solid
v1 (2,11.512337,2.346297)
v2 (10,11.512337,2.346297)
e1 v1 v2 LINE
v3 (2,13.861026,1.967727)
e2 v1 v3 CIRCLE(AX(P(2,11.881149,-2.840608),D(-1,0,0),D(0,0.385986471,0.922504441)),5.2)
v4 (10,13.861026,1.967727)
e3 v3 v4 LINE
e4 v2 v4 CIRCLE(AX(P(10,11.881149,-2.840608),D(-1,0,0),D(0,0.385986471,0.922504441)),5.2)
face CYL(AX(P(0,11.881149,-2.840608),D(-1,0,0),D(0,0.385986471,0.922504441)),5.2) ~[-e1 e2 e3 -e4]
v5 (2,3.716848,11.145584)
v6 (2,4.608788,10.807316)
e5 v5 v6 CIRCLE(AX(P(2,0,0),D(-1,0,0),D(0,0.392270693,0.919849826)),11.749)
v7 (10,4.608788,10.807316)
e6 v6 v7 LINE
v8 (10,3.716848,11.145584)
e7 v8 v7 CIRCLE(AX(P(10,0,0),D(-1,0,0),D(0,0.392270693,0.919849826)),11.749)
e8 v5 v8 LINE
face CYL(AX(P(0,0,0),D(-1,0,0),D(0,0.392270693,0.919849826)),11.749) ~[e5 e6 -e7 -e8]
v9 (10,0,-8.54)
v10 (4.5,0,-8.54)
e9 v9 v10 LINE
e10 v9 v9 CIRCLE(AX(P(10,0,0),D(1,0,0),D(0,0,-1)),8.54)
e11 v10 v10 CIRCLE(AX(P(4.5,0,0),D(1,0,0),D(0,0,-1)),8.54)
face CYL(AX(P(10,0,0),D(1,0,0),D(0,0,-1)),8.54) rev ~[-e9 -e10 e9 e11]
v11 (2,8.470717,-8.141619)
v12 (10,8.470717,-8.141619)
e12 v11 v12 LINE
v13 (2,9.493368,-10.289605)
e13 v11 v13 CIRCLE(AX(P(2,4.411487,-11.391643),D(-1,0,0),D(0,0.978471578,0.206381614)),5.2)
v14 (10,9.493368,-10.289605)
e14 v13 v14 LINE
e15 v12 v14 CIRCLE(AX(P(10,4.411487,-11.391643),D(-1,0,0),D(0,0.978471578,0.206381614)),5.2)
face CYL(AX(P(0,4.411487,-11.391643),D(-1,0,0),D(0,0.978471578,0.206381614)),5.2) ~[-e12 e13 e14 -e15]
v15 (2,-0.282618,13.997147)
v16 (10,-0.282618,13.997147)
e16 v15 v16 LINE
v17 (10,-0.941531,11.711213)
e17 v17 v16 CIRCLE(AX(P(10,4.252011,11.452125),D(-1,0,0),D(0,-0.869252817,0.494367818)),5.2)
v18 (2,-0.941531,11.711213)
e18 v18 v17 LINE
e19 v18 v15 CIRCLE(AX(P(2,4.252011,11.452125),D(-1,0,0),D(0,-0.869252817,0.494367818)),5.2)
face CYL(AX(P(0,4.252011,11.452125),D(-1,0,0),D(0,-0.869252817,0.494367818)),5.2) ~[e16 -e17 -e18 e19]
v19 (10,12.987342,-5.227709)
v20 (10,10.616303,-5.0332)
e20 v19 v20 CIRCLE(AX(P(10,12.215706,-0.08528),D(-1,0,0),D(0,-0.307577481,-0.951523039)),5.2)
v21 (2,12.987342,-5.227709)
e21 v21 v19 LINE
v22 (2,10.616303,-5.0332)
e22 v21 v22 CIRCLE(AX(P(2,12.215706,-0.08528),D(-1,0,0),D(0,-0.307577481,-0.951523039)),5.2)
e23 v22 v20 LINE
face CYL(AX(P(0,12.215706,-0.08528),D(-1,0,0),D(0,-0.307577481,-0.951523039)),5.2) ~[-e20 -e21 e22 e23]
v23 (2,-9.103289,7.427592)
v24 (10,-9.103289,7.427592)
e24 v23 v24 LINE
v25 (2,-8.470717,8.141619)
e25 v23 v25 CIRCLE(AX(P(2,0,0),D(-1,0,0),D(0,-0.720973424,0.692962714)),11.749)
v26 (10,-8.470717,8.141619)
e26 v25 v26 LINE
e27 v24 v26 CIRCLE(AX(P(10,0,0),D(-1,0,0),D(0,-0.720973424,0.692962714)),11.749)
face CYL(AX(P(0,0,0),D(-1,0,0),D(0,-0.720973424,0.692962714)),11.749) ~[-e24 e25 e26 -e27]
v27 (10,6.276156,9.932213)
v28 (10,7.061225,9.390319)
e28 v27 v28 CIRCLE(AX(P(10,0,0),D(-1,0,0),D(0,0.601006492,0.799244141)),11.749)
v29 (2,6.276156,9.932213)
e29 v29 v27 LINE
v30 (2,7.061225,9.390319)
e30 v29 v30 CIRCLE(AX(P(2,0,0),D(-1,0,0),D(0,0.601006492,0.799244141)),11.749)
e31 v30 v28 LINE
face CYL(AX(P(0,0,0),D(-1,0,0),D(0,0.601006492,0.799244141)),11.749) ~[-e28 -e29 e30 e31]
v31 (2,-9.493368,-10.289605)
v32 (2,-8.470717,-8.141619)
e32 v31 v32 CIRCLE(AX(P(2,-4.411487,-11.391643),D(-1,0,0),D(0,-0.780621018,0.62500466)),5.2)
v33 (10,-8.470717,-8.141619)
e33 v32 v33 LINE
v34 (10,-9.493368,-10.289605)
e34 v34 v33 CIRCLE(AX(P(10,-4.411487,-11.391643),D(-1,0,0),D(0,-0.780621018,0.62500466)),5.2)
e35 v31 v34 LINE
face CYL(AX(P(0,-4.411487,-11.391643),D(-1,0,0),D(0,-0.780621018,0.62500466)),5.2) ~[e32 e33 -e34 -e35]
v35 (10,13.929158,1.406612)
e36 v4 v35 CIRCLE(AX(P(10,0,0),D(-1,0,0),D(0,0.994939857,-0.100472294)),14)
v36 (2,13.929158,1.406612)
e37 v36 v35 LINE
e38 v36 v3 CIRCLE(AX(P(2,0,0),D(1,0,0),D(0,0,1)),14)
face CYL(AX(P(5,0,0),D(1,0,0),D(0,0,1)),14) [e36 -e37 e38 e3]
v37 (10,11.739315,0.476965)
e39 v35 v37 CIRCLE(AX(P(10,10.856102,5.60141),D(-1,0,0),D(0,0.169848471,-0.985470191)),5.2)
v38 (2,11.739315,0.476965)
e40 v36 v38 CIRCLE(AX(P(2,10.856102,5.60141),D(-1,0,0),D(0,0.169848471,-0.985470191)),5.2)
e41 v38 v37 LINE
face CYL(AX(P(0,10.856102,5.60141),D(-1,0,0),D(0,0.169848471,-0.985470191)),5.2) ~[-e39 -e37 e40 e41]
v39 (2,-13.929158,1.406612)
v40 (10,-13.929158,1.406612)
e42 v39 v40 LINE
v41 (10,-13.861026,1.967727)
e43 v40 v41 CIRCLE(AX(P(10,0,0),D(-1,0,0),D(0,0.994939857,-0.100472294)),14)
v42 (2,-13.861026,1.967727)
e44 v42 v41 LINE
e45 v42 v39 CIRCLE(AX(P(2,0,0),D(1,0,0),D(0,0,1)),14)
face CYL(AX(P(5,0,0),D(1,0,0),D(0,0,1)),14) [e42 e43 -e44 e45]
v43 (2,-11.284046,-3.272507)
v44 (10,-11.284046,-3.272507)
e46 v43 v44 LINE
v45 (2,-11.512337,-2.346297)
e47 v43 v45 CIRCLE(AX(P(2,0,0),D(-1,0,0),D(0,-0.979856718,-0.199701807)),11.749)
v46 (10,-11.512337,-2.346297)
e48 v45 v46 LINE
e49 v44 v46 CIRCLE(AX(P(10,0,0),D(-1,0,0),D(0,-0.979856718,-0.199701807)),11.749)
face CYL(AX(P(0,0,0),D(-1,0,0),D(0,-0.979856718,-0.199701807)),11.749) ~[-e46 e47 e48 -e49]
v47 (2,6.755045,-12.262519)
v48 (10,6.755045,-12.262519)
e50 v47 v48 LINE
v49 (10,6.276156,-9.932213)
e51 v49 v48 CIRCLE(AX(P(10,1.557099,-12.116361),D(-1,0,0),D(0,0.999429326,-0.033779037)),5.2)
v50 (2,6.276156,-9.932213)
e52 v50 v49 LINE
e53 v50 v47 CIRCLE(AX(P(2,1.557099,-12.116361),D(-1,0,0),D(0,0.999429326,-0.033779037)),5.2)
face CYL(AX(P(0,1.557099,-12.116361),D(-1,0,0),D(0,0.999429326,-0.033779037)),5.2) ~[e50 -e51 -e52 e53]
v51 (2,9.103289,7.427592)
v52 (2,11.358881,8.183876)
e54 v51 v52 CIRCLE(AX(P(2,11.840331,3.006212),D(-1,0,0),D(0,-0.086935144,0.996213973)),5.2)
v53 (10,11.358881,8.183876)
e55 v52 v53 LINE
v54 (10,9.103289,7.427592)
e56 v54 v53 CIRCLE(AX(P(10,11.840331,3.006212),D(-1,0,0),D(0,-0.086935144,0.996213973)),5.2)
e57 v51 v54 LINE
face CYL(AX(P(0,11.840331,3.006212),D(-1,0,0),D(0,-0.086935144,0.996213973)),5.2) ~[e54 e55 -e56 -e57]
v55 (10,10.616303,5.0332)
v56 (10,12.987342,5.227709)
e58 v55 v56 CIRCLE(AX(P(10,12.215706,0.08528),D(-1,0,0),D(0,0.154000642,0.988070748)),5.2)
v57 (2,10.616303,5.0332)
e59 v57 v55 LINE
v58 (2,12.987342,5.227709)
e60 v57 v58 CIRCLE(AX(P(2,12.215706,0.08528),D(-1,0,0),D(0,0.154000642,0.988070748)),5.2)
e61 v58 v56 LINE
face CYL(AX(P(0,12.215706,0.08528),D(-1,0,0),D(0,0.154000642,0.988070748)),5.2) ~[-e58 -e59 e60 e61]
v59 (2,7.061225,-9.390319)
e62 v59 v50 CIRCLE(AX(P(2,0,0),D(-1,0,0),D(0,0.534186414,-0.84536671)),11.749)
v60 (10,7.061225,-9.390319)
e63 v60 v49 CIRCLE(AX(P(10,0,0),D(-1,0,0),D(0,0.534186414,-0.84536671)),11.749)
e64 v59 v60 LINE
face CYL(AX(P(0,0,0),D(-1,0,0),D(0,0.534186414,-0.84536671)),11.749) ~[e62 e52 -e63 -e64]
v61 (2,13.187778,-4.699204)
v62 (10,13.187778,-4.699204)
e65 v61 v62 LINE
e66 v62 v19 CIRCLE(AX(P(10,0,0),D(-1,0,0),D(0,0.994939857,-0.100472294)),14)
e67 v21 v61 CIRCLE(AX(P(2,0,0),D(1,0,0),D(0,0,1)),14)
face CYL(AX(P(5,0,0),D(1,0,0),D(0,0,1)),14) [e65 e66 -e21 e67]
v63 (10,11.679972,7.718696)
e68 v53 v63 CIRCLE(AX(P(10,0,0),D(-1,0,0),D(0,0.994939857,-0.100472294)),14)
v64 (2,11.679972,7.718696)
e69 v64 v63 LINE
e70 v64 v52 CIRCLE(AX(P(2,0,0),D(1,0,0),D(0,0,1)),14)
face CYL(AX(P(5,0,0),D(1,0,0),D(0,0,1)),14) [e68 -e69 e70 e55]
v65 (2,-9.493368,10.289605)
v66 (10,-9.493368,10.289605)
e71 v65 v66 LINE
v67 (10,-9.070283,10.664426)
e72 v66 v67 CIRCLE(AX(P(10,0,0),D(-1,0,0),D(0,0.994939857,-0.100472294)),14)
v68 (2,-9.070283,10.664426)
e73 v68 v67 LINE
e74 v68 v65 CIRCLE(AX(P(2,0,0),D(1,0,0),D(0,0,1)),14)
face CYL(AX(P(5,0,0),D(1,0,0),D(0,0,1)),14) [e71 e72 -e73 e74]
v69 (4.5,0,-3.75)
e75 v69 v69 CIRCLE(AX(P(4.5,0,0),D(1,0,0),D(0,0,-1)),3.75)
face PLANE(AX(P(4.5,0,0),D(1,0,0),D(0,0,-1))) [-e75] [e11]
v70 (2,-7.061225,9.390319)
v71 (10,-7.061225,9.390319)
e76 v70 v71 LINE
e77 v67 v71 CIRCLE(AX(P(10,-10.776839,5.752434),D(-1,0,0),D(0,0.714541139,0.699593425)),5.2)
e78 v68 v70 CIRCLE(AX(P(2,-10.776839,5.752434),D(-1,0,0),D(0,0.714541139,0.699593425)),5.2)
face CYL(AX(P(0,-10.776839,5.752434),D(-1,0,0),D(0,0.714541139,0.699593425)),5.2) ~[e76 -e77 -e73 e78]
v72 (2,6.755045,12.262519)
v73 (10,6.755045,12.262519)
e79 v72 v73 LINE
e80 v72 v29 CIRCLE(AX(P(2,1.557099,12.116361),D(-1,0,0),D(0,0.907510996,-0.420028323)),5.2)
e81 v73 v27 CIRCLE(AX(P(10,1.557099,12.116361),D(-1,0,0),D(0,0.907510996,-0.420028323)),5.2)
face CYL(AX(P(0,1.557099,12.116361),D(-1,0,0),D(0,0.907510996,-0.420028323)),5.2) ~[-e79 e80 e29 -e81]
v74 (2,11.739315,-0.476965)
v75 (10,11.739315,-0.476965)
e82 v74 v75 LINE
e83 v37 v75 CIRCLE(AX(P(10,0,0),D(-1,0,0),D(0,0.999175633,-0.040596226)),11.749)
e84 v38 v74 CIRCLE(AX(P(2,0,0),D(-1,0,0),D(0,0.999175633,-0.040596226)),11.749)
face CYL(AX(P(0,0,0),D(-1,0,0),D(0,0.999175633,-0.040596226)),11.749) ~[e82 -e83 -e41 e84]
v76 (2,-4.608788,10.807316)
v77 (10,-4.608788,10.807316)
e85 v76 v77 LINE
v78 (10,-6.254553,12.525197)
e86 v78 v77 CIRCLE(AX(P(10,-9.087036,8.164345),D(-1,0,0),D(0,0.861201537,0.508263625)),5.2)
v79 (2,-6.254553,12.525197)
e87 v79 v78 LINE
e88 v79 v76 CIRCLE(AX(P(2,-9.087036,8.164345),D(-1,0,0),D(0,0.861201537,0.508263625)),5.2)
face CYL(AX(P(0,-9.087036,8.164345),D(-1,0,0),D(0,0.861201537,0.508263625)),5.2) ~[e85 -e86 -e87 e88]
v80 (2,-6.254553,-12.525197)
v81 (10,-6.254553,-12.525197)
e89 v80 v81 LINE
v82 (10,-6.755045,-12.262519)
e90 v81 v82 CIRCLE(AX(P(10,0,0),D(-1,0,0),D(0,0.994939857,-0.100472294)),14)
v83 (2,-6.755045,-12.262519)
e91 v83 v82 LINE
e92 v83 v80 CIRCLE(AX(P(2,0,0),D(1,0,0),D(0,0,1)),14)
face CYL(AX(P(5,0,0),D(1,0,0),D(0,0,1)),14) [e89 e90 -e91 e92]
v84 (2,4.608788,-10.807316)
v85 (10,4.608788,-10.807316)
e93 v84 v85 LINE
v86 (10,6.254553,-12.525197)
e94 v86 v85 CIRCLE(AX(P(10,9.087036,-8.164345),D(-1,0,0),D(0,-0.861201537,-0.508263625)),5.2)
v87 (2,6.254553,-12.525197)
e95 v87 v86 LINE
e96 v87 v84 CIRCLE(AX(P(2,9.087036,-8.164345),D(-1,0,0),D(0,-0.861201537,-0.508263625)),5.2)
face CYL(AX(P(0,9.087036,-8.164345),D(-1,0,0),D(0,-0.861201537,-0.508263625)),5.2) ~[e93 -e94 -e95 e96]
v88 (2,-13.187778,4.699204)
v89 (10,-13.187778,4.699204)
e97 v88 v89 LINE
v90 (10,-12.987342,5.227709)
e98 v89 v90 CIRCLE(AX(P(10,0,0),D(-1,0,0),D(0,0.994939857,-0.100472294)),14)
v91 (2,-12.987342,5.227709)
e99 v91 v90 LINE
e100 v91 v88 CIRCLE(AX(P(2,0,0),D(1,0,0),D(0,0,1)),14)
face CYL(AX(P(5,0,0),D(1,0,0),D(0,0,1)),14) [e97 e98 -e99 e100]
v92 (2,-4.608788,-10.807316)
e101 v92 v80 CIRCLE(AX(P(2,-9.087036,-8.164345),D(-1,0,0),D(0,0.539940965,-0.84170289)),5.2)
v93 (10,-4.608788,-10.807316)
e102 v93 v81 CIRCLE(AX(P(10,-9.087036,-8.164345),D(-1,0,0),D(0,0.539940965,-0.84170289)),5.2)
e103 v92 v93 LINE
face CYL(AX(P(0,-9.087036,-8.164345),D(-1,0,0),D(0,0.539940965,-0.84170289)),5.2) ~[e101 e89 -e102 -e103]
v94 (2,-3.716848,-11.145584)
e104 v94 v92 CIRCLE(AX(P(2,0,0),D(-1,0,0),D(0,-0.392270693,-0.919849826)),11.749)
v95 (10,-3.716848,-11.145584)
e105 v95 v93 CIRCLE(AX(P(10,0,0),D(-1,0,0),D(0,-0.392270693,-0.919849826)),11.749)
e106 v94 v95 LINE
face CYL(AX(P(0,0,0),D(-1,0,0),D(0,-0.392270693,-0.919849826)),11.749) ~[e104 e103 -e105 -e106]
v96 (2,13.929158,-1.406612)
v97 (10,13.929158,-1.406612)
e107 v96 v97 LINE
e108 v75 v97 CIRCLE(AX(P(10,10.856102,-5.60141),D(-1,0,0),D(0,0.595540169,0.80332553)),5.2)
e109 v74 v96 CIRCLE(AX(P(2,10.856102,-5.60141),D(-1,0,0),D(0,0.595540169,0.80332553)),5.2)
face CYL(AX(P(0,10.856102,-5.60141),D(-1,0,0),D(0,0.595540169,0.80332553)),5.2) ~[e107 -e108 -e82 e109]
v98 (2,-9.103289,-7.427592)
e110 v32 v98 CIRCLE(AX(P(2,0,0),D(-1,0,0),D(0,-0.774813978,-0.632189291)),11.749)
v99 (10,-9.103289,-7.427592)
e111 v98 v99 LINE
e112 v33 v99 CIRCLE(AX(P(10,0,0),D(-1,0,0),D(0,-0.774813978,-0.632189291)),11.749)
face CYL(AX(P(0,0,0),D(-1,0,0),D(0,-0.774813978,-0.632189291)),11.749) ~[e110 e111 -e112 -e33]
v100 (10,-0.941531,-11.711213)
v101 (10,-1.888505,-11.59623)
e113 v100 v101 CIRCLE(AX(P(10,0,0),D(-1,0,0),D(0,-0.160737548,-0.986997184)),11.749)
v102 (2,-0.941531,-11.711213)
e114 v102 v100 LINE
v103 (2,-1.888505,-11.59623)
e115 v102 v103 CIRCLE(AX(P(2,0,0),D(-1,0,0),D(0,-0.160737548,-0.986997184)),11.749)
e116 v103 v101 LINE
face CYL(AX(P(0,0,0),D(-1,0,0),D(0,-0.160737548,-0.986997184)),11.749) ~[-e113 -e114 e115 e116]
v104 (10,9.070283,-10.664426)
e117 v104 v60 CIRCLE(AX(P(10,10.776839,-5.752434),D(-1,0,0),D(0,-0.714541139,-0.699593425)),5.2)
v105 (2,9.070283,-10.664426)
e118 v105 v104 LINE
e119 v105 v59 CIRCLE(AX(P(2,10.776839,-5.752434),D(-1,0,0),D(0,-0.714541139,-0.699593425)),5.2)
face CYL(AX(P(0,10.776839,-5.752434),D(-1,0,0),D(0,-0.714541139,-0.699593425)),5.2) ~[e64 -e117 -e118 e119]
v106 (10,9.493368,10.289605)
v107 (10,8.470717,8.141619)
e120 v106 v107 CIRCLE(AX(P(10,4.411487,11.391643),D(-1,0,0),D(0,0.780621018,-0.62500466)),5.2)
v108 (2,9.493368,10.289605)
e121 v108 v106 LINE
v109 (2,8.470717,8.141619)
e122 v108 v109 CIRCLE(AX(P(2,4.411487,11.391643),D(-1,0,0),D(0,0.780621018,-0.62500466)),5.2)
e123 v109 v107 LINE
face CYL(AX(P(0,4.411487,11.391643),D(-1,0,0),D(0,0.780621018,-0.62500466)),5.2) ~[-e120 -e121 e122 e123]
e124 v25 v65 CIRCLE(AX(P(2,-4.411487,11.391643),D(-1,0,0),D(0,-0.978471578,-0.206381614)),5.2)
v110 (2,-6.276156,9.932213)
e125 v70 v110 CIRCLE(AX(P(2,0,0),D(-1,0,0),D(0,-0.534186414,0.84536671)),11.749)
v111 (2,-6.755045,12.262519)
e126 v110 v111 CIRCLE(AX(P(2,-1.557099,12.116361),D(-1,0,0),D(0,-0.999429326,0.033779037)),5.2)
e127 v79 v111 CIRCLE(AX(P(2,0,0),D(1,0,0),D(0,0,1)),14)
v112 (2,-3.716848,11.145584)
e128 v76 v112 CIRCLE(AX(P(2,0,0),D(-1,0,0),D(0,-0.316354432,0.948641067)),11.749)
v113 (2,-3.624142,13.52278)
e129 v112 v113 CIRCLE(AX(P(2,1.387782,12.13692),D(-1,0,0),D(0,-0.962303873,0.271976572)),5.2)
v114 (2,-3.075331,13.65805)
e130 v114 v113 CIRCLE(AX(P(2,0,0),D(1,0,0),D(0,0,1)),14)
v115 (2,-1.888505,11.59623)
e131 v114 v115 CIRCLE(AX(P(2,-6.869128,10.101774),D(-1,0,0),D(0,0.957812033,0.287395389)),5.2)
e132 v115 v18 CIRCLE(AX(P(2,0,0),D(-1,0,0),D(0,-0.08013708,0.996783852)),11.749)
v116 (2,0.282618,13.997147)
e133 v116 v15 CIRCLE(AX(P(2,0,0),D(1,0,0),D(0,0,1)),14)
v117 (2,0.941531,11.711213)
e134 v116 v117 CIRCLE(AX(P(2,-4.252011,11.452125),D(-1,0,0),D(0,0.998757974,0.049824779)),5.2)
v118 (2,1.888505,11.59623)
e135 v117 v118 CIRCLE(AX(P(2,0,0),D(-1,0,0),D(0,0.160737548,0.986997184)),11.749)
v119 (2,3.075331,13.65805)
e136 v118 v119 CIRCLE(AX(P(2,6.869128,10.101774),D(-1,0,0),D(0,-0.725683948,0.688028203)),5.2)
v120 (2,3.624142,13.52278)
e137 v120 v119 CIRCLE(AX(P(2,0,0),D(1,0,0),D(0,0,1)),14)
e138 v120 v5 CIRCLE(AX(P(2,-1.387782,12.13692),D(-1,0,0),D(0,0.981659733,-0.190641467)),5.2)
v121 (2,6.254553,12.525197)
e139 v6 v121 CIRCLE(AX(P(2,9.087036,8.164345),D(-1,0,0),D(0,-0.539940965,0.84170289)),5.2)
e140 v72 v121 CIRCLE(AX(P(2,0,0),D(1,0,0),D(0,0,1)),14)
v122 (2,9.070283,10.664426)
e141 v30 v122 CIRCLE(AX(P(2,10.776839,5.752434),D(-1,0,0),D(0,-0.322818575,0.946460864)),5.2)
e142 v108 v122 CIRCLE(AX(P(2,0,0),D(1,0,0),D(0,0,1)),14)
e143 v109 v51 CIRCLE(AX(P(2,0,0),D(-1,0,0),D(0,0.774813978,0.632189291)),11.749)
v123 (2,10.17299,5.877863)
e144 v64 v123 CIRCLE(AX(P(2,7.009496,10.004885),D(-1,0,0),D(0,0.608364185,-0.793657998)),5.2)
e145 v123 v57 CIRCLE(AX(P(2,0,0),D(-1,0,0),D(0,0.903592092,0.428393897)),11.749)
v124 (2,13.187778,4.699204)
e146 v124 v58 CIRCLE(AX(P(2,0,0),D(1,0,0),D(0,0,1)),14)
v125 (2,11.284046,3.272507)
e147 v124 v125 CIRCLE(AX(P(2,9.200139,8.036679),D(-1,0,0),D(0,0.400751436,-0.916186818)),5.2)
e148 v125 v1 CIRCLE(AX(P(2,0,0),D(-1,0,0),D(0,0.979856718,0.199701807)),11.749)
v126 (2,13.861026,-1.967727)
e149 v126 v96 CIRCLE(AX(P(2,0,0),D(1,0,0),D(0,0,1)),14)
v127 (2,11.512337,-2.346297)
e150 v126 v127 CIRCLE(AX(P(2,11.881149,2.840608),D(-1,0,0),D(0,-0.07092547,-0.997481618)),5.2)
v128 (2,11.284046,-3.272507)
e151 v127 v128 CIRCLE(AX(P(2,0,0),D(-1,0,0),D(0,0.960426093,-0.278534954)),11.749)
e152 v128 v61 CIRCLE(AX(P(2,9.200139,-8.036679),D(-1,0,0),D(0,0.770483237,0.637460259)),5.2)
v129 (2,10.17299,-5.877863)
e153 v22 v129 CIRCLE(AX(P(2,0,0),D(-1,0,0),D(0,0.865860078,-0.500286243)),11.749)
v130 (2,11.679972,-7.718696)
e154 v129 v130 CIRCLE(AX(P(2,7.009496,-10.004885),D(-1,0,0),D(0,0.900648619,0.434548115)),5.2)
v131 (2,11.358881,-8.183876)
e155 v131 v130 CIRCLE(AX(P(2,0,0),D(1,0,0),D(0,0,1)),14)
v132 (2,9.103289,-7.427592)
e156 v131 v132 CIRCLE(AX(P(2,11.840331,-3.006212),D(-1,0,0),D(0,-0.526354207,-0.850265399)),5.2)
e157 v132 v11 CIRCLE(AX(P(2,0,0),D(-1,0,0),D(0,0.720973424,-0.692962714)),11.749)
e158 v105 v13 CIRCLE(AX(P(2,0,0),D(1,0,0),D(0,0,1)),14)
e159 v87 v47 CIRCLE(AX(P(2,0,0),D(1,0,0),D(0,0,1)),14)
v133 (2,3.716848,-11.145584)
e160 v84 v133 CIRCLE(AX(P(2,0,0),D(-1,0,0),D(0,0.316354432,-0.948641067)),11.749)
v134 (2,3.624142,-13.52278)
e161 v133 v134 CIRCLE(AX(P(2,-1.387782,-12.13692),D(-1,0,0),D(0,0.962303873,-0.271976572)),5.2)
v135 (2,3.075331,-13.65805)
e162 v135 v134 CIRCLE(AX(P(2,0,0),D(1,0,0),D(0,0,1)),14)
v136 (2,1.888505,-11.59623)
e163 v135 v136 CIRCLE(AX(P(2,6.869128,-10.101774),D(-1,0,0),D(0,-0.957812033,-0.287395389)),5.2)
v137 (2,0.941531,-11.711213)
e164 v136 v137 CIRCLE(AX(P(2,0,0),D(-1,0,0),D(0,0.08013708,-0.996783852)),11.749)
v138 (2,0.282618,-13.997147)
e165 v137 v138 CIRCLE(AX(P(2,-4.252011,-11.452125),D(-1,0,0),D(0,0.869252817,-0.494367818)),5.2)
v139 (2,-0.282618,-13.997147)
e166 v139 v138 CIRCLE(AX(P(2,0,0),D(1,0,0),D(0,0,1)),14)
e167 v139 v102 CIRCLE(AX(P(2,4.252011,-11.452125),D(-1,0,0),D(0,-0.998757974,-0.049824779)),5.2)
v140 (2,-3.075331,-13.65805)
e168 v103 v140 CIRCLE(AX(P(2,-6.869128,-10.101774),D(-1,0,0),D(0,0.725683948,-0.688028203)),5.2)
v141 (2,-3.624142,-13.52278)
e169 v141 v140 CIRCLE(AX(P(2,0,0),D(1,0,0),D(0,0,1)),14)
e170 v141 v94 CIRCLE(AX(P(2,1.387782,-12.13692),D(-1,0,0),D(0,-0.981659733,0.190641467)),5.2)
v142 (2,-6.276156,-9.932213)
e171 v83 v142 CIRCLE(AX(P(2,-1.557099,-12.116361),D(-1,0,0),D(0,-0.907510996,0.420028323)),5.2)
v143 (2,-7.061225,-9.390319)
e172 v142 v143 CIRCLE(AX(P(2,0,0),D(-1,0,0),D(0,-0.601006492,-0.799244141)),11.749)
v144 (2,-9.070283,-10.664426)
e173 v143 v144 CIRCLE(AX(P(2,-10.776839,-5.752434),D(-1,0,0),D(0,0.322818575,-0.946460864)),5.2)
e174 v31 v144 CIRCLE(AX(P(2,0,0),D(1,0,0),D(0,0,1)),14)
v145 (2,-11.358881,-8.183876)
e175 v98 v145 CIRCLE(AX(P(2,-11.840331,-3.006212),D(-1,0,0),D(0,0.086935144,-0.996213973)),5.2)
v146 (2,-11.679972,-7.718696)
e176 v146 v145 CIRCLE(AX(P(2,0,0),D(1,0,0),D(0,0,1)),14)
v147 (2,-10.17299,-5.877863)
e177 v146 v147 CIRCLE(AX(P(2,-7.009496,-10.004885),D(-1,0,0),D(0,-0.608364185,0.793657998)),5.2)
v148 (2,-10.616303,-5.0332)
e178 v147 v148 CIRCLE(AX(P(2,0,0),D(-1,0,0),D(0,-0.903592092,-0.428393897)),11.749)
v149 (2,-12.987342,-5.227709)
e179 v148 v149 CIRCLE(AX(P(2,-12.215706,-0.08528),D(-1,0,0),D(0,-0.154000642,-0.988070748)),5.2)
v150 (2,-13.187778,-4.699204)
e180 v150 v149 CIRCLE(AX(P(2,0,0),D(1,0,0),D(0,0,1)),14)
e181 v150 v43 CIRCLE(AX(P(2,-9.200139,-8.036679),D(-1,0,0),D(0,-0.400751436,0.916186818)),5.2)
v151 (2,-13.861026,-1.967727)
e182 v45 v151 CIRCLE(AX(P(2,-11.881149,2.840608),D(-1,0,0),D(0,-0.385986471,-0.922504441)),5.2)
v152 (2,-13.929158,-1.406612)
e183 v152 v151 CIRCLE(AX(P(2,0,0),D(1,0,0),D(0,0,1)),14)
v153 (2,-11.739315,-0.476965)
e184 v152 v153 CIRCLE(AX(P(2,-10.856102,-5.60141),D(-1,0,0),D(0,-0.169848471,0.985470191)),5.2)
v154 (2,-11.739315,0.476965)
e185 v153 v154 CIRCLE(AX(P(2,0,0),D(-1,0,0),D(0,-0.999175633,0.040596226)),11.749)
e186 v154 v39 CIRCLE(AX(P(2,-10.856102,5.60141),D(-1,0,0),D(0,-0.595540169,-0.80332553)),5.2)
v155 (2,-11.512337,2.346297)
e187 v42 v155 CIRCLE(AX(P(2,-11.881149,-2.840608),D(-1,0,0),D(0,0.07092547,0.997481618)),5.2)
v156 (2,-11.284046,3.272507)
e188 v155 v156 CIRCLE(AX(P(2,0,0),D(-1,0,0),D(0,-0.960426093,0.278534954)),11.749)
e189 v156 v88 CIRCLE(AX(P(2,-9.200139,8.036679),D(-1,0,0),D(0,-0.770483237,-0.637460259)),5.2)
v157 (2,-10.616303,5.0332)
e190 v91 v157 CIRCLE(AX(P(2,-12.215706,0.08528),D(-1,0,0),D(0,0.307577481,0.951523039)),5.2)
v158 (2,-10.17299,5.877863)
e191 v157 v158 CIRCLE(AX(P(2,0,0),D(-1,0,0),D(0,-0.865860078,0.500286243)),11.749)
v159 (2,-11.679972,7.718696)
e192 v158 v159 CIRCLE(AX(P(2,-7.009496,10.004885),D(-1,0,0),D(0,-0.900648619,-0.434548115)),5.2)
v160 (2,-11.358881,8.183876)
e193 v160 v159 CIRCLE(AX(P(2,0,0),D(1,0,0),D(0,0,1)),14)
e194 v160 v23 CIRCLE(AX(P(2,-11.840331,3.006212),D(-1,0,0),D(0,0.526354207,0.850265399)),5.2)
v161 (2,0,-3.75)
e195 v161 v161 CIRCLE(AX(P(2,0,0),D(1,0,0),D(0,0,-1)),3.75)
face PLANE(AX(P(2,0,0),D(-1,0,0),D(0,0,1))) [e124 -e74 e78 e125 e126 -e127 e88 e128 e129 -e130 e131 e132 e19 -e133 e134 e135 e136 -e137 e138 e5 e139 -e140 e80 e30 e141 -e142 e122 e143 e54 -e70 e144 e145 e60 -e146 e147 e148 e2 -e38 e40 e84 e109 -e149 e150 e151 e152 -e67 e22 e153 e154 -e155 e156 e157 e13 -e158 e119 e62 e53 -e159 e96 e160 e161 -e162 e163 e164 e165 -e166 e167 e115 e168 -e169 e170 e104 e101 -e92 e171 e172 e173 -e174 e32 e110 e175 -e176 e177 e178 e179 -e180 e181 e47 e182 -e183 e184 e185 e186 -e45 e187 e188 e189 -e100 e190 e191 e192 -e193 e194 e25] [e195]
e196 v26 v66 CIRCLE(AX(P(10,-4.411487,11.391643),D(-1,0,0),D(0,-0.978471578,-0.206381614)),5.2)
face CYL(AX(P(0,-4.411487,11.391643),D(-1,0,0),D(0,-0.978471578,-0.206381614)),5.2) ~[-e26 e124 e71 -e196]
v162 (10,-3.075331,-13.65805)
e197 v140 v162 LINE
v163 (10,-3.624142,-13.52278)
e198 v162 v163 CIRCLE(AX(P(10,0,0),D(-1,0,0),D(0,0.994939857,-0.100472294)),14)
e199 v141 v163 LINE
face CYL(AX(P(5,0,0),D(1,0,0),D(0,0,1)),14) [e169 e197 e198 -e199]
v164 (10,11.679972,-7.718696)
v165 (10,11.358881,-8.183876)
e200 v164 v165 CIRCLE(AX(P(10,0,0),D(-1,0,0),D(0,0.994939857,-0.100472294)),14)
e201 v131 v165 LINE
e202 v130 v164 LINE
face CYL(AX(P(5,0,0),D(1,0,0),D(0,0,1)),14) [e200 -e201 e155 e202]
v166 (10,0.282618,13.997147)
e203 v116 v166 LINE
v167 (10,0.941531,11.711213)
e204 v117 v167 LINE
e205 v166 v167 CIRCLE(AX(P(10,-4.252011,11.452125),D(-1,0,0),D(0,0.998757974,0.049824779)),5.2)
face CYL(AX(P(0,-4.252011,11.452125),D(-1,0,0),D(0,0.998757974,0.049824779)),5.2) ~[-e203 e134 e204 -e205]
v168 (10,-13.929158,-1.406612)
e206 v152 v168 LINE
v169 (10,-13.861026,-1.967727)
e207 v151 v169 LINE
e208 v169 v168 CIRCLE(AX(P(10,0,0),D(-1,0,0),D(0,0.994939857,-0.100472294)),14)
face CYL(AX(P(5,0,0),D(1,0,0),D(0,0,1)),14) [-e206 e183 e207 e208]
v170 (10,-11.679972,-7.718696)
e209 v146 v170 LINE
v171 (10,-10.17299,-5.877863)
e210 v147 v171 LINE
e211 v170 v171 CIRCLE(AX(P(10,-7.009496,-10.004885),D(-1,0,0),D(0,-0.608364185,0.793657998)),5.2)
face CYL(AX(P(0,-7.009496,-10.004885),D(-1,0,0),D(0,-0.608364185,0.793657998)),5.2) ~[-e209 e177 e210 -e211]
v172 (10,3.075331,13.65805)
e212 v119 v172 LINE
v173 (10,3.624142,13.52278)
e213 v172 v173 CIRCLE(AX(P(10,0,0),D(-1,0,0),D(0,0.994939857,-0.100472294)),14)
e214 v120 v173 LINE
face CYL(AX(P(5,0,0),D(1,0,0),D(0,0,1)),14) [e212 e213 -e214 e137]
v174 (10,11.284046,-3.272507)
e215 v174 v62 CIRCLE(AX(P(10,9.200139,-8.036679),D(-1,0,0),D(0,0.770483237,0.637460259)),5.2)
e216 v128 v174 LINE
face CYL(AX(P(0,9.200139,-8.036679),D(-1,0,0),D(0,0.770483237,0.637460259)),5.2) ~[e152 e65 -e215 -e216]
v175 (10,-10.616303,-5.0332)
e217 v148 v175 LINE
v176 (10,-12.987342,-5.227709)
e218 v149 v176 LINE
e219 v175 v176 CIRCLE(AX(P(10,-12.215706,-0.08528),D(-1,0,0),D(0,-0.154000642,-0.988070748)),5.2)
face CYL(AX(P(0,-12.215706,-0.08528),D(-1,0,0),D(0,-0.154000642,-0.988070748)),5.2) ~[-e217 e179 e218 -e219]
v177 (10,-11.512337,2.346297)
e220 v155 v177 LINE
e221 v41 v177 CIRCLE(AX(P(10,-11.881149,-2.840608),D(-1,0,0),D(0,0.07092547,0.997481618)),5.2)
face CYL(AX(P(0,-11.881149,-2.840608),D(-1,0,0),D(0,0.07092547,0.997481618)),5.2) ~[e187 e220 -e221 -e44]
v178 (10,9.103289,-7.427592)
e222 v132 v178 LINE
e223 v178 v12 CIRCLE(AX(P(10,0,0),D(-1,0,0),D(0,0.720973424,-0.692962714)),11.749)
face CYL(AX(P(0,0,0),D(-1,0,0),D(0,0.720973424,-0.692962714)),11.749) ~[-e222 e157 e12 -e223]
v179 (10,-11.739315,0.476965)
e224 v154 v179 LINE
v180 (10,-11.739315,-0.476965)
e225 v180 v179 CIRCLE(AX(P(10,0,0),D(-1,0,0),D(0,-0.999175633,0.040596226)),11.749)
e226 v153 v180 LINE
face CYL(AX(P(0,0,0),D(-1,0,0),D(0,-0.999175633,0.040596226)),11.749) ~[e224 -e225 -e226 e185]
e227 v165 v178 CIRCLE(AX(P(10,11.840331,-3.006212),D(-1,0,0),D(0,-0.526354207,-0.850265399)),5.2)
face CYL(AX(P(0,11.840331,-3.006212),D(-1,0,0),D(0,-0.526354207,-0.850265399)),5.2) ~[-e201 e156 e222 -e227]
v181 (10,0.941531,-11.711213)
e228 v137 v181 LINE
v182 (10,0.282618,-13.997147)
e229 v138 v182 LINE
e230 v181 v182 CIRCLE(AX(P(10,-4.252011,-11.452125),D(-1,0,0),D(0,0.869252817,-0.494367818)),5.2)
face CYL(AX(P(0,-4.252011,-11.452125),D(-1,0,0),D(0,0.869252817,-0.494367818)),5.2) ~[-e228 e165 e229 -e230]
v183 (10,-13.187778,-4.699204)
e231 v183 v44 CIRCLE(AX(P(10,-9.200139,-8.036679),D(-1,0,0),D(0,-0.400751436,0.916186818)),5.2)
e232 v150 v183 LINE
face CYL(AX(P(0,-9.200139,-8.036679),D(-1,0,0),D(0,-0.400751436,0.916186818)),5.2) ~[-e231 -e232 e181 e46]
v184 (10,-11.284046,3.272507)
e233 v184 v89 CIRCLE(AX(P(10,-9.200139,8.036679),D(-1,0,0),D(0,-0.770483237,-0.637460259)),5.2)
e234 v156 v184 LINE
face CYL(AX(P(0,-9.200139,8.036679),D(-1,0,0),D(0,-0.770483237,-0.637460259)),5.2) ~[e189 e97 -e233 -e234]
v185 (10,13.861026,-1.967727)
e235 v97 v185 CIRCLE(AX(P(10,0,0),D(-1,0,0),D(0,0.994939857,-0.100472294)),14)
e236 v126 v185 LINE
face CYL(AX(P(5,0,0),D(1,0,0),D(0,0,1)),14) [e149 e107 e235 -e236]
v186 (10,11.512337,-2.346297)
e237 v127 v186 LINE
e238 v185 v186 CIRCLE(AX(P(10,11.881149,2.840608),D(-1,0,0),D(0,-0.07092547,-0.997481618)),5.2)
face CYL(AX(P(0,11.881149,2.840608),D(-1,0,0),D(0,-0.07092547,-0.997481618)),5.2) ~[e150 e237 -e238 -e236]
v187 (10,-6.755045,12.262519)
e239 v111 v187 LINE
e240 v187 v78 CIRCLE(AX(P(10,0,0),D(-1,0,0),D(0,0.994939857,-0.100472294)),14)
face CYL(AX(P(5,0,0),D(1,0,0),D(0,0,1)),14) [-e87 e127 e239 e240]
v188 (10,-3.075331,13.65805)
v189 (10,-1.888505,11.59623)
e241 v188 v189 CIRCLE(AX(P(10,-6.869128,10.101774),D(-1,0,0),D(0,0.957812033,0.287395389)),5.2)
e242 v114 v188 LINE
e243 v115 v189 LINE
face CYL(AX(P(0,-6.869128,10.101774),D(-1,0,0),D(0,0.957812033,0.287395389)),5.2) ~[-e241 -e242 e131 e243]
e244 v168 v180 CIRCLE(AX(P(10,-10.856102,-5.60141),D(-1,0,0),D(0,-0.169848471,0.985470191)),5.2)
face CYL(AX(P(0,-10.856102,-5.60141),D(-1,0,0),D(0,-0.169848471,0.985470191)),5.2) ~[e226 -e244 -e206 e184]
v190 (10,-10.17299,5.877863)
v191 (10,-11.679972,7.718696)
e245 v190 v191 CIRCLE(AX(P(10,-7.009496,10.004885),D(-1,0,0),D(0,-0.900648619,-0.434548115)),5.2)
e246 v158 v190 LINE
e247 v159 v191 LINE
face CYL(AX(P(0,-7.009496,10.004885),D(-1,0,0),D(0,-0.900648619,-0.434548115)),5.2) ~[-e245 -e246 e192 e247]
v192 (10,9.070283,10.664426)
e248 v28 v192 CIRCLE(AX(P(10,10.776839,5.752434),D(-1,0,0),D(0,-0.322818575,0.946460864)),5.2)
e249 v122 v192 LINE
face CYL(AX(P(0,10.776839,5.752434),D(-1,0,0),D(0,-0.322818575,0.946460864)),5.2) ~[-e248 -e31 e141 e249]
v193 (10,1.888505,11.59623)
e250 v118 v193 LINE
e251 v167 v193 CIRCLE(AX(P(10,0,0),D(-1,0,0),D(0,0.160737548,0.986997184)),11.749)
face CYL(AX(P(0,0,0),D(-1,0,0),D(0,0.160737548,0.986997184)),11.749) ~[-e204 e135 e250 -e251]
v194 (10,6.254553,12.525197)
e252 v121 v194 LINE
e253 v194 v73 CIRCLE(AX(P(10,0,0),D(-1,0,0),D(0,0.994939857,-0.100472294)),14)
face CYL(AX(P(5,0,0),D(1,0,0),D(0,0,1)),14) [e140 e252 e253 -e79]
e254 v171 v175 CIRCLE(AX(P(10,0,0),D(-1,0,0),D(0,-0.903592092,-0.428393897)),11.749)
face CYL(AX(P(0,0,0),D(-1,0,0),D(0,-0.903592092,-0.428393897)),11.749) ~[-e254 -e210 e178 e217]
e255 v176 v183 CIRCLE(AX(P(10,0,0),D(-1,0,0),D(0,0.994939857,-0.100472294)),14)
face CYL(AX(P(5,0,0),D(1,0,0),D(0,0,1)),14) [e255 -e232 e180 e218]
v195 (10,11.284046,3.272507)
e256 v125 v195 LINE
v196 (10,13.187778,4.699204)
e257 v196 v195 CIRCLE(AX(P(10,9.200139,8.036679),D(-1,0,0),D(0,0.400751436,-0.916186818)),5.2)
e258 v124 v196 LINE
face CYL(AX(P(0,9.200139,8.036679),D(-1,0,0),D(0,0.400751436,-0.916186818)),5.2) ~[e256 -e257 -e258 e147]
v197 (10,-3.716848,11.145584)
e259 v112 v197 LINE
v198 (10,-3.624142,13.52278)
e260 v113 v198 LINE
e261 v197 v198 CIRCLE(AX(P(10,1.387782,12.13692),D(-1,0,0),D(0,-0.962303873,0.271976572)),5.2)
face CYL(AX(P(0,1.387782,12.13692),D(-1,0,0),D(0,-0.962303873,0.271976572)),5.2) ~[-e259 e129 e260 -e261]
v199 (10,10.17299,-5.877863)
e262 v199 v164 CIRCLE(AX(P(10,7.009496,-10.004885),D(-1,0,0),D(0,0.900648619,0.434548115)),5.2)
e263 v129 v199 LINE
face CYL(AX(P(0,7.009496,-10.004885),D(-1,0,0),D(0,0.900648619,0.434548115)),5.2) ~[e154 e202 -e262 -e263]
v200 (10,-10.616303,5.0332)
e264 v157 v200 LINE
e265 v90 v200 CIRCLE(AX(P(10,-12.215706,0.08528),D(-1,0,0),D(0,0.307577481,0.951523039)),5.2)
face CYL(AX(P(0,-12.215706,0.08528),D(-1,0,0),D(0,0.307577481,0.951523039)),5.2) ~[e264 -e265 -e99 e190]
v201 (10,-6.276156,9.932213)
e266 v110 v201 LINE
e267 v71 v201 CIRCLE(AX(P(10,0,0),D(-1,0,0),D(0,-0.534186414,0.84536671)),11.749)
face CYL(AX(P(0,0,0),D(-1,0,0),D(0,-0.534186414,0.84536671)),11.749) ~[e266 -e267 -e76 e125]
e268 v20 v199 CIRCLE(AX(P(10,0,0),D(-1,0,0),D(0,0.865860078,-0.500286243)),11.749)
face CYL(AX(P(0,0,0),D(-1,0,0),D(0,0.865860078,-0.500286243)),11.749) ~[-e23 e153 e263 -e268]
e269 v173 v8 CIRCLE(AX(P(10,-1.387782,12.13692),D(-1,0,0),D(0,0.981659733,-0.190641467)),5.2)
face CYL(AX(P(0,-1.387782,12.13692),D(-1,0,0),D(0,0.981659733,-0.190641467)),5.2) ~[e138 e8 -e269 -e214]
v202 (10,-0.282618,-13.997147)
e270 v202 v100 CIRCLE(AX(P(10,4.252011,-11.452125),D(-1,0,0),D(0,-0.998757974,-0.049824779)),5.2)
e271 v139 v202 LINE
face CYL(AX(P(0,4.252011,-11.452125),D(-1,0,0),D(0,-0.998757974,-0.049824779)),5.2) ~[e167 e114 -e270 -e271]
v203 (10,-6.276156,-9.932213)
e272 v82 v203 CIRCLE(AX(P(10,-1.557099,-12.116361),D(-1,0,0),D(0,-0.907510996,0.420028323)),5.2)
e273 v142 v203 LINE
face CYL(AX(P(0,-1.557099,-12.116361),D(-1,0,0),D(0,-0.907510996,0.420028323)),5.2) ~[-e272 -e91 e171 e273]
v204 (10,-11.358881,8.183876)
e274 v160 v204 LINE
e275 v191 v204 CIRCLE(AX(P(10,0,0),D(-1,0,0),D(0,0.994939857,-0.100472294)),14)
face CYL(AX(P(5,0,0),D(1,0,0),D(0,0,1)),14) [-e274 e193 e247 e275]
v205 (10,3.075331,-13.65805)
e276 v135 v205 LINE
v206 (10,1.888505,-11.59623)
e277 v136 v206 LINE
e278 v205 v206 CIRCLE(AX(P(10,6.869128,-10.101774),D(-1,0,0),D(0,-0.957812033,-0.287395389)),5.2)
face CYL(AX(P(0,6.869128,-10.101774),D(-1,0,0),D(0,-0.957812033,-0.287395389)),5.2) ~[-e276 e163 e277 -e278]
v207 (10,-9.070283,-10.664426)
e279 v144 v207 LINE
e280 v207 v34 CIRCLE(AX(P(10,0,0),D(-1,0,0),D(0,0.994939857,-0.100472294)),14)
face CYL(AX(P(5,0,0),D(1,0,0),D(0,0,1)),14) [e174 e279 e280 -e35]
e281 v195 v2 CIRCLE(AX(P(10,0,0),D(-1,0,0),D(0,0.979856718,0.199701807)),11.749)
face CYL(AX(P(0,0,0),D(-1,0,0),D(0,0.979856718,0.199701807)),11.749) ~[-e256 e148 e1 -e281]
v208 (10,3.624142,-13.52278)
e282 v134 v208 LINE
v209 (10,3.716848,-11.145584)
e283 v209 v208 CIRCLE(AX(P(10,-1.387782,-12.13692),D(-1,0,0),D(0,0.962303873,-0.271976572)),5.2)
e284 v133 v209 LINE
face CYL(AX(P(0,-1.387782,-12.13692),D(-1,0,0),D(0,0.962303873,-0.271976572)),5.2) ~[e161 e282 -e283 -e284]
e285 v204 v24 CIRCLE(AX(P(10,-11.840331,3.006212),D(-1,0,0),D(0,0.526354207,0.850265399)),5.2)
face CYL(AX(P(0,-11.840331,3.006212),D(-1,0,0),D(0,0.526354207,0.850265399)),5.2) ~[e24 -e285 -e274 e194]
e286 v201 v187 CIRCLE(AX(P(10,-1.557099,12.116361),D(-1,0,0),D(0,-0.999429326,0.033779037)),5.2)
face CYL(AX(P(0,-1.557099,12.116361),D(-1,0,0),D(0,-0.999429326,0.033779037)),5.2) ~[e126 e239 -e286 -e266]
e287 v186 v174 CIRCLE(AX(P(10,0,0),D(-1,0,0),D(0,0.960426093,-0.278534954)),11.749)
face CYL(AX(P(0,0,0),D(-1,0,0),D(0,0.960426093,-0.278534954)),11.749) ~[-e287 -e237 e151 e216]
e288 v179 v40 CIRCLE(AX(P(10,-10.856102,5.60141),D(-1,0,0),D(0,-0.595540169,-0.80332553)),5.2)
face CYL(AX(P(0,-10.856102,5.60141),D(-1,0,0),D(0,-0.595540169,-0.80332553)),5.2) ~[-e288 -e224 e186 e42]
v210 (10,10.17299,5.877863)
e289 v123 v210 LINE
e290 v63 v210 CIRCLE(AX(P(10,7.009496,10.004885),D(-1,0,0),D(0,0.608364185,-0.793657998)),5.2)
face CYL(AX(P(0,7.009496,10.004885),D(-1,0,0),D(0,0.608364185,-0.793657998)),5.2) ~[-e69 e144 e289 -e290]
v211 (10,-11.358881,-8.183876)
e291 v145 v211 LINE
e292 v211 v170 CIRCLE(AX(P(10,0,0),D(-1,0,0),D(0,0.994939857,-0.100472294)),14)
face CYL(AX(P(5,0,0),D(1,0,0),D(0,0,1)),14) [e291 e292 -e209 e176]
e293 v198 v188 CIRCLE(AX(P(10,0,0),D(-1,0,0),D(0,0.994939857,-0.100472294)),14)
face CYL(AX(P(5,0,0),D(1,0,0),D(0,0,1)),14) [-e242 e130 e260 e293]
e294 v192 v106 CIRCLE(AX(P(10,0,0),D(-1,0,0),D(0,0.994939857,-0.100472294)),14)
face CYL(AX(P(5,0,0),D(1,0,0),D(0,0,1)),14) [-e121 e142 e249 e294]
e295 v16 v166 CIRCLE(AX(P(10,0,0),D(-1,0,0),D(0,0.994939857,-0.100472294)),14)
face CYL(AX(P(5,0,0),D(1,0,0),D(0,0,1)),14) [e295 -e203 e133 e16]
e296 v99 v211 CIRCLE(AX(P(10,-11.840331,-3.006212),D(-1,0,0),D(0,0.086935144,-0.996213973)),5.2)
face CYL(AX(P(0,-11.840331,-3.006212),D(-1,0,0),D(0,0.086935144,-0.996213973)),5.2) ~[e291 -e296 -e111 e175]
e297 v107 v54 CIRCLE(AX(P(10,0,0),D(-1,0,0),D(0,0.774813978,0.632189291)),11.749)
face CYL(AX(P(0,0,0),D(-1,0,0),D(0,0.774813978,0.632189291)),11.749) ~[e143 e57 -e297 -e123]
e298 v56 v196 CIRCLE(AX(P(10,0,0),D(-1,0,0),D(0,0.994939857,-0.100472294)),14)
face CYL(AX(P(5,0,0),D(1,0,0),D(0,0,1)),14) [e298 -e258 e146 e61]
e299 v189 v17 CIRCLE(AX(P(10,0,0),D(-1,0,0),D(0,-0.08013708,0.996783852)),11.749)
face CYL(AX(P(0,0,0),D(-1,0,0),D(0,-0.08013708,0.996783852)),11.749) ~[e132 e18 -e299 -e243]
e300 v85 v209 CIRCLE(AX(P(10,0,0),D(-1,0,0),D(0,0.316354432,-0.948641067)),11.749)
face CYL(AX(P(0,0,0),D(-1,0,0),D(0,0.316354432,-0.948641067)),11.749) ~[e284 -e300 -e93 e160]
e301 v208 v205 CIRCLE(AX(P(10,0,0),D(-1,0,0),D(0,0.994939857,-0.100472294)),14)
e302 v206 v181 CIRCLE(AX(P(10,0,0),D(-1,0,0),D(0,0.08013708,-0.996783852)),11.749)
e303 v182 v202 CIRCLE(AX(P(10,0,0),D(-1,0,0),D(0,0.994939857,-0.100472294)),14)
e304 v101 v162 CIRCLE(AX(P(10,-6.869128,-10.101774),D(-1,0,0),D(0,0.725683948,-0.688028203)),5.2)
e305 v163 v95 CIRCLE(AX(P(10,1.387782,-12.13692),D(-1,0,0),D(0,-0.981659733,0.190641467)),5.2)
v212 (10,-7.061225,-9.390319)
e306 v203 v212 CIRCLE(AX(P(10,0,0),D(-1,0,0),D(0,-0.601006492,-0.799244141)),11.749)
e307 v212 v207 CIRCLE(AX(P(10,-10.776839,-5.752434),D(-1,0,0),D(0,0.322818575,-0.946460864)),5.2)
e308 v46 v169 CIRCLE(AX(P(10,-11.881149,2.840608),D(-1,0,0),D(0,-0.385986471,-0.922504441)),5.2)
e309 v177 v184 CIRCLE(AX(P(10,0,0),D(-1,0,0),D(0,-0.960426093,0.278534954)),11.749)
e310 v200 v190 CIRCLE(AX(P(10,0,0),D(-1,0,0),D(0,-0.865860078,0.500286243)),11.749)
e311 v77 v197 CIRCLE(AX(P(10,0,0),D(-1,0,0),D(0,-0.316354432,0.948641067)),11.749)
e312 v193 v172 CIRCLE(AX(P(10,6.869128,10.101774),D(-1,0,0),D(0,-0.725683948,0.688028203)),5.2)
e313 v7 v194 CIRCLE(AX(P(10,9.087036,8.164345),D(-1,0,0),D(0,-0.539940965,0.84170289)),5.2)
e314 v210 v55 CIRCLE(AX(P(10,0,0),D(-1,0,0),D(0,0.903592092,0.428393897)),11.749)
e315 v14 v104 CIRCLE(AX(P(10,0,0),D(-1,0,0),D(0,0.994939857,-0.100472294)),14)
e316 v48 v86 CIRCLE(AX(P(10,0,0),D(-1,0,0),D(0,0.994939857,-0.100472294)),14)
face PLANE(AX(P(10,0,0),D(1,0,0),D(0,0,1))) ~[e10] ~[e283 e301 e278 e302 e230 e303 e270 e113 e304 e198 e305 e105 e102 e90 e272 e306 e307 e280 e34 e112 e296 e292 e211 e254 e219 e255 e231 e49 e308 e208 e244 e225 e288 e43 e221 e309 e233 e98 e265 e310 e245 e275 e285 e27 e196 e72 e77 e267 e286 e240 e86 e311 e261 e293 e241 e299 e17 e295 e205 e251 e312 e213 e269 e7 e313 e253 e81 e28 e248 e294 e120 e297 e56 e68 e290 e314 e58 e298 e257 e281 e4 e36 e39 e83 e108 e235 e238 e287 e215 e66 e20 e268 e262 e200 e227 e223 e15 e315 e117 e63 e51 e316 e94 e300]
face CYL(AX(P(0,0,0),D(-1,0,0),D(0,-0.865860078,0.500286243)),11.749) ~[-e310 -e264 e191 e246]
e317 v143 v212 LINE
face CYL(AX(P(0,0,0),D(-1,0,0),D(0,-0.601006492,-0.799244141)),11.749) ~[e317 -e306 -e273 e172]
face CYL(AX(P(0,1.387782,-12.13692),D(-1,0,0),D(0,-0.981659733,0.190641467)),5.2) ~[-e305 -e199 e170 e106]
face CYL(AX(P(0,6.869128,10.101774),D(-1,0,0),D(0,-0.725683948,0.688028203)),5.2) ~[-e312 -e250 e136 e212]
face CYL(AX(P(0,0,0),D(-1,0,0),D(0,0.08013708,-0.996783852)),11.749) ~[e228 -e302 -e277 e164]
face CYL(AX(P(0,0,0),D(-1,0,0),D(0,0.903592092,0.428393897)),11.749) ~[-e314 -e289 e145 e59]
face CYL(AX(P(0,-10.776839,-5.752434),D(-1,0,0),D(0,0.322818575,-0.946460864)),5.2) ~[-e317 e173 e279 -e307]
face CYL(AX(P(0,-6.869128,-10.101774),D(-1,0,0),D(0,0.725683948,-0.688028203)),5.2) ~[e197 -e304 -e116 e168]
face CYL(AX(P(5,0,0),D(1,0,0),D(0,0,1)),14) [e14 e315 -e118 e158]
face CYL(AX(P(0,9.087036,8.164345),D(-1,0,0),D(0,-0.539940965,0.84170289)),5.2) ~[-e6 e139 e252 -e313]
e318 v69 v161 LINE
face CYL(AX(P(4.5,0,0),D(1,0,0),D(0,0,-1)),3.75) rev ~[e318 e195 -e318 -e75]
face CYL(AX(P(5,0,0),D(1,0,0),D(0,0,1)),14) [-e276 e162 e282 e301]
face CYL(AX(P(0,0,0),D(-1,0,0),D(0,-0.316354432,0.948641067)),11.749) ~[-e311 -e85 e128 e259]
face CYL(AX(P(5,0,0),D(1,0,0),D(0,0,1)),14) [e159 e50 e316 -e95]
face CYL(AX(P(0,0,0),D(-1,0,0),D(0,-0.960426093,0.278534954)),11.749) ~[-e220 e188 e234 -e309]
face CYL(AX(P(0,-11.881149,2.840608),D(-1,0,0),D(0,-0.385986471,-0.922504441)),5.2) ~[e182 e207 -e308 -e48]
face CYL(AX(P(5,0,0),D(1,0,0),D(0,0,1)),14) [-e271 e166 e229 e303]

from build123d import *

# Parameters (mm, degrees)
BASPROSKE_W        = 10
BASPROSKE_H        = 14
TOOTHCUT_DEPTH     = 23.181073013
TEETHCUTS_COUNT    = 26
TEETHCUTS_ANGLE    = 346.153846154
BORSKE_R           = 0.4
BORE_DEPTH         = 50.0000508
SKETCH1_R          = 8.54
CUT_EXTRUDE1_DEPTH = 5.5
SKETCH2_R          = 3.75
CUT_EXTRUDE2_DEPTH = 21.500522978
SKETCH3_R          = 15.294835459
CUT_EXTRUDE3_DEPTH = 2


with BuildPart() as part:
    # BasProSke → Base-Revolve (revolve)
    with BuildSketch(Plane(origin=(0, 0, 0), x_dir=(1, 0, 0), z_dir=(0, 1, 0)), mode=Mode.PRIVATE) as base_revolve_sk:
        with Locations((5, 7)):
            Rectangle(BASPROSKE_W, BASPROSKE_H)
    revolve(base_revolve_sk.sketch.rotate(Axis((-10, 0, 0), (1, 0, 0)), 180), axis=Axis((-10, 0, 0), (1, 0, 0)))

    # TooCutSke → ToothCut (cut, through all)
    with BuildSketch(Plane(origin=(0, 0, 0), x_dir=(0, 0, -1), z_dir=(1, 0, 0))):
        with BuildLine():
            ThreePointArc((0.476965065, 11.739314517), (0, 11.749), (-0.476965065, 11.739314517))
            ThreePointArc((-0.476965065, 11.739314517), (-0.82065865, 12.901686978), (-1.424117301, 13.952911348))
            ThreePointArc((-1.424117301, 13.952911348), (0, 14.0254), (1.424117301, 13.952911348))
            ThreePointArc((1.424117301, 13.952911348), (0.82065865, 12.901686978), (0.476965065, 11.739314517))
        make_face()
    toothcut = extrude(amount=TOOTHCUT_DEPTH, mode=Mode.SUBTRACT)

    # TeethCuts: ToothCut ×26 about axis
    teethcuts_axis = Axis((-10, 0, 0), (1, 0, 0))
    for i in range(1, TEETHCUTS_COUNT):
        add(toothcut.rotate(teethcuts_axis, i * TEETHCUTS_ANGLE / (TEETHCUTS_COUNT - 1)), mode=Mode.SUBTRACT)

    # BorSke → Bore (cut, symmetric)
    with BuildSketch(Plane(origin=(0, 0, 0), x_dir=(0, 0, -1), z_dir=(1, 0, 0))):
        with Locations(Location((0, 0, 0), (0, 0, 180))):
            Circle(BORSKE_R)
    extrude(amount=BORE_DEPTH, both=True, mode=Mode.SUBTRACT)

    # Sketch1 → Cut-Extrude1 (cut)
    with BuildSketch(Plane(origin=(10, 0, 0), x_dir=(0, 0, -1), z_dir=(1, 0, 0))):
        Circle(SKETCH1_R)
    extrude(amount=-CUT_EXTRUDE1_DEPTH, mode=Mode.SUBTRACT)

    # Sketch2 → Cut-Extrude2 (cut, through all)
    with BuildSketch(Plane(origin=(4.5, 0, 0), x_dir=(0, 0, -1), z_dir=(1, 0, 0))):
        Circle(SKETCH2_R)
    extrude(amount=-CUT_EXTRUDE2_DEPTH, mode=Mode.SUBTRACT)

    # Sketch3 → Cut-Extrude3 (cut)
    with BuildSketch(Plane.ZY):
        Circle(SKETCH3_R)
    extrude(amount=-CUT_EXTRUDE3_DEPTH, mode=Mode.SUBTRACT)


solid = part.part
